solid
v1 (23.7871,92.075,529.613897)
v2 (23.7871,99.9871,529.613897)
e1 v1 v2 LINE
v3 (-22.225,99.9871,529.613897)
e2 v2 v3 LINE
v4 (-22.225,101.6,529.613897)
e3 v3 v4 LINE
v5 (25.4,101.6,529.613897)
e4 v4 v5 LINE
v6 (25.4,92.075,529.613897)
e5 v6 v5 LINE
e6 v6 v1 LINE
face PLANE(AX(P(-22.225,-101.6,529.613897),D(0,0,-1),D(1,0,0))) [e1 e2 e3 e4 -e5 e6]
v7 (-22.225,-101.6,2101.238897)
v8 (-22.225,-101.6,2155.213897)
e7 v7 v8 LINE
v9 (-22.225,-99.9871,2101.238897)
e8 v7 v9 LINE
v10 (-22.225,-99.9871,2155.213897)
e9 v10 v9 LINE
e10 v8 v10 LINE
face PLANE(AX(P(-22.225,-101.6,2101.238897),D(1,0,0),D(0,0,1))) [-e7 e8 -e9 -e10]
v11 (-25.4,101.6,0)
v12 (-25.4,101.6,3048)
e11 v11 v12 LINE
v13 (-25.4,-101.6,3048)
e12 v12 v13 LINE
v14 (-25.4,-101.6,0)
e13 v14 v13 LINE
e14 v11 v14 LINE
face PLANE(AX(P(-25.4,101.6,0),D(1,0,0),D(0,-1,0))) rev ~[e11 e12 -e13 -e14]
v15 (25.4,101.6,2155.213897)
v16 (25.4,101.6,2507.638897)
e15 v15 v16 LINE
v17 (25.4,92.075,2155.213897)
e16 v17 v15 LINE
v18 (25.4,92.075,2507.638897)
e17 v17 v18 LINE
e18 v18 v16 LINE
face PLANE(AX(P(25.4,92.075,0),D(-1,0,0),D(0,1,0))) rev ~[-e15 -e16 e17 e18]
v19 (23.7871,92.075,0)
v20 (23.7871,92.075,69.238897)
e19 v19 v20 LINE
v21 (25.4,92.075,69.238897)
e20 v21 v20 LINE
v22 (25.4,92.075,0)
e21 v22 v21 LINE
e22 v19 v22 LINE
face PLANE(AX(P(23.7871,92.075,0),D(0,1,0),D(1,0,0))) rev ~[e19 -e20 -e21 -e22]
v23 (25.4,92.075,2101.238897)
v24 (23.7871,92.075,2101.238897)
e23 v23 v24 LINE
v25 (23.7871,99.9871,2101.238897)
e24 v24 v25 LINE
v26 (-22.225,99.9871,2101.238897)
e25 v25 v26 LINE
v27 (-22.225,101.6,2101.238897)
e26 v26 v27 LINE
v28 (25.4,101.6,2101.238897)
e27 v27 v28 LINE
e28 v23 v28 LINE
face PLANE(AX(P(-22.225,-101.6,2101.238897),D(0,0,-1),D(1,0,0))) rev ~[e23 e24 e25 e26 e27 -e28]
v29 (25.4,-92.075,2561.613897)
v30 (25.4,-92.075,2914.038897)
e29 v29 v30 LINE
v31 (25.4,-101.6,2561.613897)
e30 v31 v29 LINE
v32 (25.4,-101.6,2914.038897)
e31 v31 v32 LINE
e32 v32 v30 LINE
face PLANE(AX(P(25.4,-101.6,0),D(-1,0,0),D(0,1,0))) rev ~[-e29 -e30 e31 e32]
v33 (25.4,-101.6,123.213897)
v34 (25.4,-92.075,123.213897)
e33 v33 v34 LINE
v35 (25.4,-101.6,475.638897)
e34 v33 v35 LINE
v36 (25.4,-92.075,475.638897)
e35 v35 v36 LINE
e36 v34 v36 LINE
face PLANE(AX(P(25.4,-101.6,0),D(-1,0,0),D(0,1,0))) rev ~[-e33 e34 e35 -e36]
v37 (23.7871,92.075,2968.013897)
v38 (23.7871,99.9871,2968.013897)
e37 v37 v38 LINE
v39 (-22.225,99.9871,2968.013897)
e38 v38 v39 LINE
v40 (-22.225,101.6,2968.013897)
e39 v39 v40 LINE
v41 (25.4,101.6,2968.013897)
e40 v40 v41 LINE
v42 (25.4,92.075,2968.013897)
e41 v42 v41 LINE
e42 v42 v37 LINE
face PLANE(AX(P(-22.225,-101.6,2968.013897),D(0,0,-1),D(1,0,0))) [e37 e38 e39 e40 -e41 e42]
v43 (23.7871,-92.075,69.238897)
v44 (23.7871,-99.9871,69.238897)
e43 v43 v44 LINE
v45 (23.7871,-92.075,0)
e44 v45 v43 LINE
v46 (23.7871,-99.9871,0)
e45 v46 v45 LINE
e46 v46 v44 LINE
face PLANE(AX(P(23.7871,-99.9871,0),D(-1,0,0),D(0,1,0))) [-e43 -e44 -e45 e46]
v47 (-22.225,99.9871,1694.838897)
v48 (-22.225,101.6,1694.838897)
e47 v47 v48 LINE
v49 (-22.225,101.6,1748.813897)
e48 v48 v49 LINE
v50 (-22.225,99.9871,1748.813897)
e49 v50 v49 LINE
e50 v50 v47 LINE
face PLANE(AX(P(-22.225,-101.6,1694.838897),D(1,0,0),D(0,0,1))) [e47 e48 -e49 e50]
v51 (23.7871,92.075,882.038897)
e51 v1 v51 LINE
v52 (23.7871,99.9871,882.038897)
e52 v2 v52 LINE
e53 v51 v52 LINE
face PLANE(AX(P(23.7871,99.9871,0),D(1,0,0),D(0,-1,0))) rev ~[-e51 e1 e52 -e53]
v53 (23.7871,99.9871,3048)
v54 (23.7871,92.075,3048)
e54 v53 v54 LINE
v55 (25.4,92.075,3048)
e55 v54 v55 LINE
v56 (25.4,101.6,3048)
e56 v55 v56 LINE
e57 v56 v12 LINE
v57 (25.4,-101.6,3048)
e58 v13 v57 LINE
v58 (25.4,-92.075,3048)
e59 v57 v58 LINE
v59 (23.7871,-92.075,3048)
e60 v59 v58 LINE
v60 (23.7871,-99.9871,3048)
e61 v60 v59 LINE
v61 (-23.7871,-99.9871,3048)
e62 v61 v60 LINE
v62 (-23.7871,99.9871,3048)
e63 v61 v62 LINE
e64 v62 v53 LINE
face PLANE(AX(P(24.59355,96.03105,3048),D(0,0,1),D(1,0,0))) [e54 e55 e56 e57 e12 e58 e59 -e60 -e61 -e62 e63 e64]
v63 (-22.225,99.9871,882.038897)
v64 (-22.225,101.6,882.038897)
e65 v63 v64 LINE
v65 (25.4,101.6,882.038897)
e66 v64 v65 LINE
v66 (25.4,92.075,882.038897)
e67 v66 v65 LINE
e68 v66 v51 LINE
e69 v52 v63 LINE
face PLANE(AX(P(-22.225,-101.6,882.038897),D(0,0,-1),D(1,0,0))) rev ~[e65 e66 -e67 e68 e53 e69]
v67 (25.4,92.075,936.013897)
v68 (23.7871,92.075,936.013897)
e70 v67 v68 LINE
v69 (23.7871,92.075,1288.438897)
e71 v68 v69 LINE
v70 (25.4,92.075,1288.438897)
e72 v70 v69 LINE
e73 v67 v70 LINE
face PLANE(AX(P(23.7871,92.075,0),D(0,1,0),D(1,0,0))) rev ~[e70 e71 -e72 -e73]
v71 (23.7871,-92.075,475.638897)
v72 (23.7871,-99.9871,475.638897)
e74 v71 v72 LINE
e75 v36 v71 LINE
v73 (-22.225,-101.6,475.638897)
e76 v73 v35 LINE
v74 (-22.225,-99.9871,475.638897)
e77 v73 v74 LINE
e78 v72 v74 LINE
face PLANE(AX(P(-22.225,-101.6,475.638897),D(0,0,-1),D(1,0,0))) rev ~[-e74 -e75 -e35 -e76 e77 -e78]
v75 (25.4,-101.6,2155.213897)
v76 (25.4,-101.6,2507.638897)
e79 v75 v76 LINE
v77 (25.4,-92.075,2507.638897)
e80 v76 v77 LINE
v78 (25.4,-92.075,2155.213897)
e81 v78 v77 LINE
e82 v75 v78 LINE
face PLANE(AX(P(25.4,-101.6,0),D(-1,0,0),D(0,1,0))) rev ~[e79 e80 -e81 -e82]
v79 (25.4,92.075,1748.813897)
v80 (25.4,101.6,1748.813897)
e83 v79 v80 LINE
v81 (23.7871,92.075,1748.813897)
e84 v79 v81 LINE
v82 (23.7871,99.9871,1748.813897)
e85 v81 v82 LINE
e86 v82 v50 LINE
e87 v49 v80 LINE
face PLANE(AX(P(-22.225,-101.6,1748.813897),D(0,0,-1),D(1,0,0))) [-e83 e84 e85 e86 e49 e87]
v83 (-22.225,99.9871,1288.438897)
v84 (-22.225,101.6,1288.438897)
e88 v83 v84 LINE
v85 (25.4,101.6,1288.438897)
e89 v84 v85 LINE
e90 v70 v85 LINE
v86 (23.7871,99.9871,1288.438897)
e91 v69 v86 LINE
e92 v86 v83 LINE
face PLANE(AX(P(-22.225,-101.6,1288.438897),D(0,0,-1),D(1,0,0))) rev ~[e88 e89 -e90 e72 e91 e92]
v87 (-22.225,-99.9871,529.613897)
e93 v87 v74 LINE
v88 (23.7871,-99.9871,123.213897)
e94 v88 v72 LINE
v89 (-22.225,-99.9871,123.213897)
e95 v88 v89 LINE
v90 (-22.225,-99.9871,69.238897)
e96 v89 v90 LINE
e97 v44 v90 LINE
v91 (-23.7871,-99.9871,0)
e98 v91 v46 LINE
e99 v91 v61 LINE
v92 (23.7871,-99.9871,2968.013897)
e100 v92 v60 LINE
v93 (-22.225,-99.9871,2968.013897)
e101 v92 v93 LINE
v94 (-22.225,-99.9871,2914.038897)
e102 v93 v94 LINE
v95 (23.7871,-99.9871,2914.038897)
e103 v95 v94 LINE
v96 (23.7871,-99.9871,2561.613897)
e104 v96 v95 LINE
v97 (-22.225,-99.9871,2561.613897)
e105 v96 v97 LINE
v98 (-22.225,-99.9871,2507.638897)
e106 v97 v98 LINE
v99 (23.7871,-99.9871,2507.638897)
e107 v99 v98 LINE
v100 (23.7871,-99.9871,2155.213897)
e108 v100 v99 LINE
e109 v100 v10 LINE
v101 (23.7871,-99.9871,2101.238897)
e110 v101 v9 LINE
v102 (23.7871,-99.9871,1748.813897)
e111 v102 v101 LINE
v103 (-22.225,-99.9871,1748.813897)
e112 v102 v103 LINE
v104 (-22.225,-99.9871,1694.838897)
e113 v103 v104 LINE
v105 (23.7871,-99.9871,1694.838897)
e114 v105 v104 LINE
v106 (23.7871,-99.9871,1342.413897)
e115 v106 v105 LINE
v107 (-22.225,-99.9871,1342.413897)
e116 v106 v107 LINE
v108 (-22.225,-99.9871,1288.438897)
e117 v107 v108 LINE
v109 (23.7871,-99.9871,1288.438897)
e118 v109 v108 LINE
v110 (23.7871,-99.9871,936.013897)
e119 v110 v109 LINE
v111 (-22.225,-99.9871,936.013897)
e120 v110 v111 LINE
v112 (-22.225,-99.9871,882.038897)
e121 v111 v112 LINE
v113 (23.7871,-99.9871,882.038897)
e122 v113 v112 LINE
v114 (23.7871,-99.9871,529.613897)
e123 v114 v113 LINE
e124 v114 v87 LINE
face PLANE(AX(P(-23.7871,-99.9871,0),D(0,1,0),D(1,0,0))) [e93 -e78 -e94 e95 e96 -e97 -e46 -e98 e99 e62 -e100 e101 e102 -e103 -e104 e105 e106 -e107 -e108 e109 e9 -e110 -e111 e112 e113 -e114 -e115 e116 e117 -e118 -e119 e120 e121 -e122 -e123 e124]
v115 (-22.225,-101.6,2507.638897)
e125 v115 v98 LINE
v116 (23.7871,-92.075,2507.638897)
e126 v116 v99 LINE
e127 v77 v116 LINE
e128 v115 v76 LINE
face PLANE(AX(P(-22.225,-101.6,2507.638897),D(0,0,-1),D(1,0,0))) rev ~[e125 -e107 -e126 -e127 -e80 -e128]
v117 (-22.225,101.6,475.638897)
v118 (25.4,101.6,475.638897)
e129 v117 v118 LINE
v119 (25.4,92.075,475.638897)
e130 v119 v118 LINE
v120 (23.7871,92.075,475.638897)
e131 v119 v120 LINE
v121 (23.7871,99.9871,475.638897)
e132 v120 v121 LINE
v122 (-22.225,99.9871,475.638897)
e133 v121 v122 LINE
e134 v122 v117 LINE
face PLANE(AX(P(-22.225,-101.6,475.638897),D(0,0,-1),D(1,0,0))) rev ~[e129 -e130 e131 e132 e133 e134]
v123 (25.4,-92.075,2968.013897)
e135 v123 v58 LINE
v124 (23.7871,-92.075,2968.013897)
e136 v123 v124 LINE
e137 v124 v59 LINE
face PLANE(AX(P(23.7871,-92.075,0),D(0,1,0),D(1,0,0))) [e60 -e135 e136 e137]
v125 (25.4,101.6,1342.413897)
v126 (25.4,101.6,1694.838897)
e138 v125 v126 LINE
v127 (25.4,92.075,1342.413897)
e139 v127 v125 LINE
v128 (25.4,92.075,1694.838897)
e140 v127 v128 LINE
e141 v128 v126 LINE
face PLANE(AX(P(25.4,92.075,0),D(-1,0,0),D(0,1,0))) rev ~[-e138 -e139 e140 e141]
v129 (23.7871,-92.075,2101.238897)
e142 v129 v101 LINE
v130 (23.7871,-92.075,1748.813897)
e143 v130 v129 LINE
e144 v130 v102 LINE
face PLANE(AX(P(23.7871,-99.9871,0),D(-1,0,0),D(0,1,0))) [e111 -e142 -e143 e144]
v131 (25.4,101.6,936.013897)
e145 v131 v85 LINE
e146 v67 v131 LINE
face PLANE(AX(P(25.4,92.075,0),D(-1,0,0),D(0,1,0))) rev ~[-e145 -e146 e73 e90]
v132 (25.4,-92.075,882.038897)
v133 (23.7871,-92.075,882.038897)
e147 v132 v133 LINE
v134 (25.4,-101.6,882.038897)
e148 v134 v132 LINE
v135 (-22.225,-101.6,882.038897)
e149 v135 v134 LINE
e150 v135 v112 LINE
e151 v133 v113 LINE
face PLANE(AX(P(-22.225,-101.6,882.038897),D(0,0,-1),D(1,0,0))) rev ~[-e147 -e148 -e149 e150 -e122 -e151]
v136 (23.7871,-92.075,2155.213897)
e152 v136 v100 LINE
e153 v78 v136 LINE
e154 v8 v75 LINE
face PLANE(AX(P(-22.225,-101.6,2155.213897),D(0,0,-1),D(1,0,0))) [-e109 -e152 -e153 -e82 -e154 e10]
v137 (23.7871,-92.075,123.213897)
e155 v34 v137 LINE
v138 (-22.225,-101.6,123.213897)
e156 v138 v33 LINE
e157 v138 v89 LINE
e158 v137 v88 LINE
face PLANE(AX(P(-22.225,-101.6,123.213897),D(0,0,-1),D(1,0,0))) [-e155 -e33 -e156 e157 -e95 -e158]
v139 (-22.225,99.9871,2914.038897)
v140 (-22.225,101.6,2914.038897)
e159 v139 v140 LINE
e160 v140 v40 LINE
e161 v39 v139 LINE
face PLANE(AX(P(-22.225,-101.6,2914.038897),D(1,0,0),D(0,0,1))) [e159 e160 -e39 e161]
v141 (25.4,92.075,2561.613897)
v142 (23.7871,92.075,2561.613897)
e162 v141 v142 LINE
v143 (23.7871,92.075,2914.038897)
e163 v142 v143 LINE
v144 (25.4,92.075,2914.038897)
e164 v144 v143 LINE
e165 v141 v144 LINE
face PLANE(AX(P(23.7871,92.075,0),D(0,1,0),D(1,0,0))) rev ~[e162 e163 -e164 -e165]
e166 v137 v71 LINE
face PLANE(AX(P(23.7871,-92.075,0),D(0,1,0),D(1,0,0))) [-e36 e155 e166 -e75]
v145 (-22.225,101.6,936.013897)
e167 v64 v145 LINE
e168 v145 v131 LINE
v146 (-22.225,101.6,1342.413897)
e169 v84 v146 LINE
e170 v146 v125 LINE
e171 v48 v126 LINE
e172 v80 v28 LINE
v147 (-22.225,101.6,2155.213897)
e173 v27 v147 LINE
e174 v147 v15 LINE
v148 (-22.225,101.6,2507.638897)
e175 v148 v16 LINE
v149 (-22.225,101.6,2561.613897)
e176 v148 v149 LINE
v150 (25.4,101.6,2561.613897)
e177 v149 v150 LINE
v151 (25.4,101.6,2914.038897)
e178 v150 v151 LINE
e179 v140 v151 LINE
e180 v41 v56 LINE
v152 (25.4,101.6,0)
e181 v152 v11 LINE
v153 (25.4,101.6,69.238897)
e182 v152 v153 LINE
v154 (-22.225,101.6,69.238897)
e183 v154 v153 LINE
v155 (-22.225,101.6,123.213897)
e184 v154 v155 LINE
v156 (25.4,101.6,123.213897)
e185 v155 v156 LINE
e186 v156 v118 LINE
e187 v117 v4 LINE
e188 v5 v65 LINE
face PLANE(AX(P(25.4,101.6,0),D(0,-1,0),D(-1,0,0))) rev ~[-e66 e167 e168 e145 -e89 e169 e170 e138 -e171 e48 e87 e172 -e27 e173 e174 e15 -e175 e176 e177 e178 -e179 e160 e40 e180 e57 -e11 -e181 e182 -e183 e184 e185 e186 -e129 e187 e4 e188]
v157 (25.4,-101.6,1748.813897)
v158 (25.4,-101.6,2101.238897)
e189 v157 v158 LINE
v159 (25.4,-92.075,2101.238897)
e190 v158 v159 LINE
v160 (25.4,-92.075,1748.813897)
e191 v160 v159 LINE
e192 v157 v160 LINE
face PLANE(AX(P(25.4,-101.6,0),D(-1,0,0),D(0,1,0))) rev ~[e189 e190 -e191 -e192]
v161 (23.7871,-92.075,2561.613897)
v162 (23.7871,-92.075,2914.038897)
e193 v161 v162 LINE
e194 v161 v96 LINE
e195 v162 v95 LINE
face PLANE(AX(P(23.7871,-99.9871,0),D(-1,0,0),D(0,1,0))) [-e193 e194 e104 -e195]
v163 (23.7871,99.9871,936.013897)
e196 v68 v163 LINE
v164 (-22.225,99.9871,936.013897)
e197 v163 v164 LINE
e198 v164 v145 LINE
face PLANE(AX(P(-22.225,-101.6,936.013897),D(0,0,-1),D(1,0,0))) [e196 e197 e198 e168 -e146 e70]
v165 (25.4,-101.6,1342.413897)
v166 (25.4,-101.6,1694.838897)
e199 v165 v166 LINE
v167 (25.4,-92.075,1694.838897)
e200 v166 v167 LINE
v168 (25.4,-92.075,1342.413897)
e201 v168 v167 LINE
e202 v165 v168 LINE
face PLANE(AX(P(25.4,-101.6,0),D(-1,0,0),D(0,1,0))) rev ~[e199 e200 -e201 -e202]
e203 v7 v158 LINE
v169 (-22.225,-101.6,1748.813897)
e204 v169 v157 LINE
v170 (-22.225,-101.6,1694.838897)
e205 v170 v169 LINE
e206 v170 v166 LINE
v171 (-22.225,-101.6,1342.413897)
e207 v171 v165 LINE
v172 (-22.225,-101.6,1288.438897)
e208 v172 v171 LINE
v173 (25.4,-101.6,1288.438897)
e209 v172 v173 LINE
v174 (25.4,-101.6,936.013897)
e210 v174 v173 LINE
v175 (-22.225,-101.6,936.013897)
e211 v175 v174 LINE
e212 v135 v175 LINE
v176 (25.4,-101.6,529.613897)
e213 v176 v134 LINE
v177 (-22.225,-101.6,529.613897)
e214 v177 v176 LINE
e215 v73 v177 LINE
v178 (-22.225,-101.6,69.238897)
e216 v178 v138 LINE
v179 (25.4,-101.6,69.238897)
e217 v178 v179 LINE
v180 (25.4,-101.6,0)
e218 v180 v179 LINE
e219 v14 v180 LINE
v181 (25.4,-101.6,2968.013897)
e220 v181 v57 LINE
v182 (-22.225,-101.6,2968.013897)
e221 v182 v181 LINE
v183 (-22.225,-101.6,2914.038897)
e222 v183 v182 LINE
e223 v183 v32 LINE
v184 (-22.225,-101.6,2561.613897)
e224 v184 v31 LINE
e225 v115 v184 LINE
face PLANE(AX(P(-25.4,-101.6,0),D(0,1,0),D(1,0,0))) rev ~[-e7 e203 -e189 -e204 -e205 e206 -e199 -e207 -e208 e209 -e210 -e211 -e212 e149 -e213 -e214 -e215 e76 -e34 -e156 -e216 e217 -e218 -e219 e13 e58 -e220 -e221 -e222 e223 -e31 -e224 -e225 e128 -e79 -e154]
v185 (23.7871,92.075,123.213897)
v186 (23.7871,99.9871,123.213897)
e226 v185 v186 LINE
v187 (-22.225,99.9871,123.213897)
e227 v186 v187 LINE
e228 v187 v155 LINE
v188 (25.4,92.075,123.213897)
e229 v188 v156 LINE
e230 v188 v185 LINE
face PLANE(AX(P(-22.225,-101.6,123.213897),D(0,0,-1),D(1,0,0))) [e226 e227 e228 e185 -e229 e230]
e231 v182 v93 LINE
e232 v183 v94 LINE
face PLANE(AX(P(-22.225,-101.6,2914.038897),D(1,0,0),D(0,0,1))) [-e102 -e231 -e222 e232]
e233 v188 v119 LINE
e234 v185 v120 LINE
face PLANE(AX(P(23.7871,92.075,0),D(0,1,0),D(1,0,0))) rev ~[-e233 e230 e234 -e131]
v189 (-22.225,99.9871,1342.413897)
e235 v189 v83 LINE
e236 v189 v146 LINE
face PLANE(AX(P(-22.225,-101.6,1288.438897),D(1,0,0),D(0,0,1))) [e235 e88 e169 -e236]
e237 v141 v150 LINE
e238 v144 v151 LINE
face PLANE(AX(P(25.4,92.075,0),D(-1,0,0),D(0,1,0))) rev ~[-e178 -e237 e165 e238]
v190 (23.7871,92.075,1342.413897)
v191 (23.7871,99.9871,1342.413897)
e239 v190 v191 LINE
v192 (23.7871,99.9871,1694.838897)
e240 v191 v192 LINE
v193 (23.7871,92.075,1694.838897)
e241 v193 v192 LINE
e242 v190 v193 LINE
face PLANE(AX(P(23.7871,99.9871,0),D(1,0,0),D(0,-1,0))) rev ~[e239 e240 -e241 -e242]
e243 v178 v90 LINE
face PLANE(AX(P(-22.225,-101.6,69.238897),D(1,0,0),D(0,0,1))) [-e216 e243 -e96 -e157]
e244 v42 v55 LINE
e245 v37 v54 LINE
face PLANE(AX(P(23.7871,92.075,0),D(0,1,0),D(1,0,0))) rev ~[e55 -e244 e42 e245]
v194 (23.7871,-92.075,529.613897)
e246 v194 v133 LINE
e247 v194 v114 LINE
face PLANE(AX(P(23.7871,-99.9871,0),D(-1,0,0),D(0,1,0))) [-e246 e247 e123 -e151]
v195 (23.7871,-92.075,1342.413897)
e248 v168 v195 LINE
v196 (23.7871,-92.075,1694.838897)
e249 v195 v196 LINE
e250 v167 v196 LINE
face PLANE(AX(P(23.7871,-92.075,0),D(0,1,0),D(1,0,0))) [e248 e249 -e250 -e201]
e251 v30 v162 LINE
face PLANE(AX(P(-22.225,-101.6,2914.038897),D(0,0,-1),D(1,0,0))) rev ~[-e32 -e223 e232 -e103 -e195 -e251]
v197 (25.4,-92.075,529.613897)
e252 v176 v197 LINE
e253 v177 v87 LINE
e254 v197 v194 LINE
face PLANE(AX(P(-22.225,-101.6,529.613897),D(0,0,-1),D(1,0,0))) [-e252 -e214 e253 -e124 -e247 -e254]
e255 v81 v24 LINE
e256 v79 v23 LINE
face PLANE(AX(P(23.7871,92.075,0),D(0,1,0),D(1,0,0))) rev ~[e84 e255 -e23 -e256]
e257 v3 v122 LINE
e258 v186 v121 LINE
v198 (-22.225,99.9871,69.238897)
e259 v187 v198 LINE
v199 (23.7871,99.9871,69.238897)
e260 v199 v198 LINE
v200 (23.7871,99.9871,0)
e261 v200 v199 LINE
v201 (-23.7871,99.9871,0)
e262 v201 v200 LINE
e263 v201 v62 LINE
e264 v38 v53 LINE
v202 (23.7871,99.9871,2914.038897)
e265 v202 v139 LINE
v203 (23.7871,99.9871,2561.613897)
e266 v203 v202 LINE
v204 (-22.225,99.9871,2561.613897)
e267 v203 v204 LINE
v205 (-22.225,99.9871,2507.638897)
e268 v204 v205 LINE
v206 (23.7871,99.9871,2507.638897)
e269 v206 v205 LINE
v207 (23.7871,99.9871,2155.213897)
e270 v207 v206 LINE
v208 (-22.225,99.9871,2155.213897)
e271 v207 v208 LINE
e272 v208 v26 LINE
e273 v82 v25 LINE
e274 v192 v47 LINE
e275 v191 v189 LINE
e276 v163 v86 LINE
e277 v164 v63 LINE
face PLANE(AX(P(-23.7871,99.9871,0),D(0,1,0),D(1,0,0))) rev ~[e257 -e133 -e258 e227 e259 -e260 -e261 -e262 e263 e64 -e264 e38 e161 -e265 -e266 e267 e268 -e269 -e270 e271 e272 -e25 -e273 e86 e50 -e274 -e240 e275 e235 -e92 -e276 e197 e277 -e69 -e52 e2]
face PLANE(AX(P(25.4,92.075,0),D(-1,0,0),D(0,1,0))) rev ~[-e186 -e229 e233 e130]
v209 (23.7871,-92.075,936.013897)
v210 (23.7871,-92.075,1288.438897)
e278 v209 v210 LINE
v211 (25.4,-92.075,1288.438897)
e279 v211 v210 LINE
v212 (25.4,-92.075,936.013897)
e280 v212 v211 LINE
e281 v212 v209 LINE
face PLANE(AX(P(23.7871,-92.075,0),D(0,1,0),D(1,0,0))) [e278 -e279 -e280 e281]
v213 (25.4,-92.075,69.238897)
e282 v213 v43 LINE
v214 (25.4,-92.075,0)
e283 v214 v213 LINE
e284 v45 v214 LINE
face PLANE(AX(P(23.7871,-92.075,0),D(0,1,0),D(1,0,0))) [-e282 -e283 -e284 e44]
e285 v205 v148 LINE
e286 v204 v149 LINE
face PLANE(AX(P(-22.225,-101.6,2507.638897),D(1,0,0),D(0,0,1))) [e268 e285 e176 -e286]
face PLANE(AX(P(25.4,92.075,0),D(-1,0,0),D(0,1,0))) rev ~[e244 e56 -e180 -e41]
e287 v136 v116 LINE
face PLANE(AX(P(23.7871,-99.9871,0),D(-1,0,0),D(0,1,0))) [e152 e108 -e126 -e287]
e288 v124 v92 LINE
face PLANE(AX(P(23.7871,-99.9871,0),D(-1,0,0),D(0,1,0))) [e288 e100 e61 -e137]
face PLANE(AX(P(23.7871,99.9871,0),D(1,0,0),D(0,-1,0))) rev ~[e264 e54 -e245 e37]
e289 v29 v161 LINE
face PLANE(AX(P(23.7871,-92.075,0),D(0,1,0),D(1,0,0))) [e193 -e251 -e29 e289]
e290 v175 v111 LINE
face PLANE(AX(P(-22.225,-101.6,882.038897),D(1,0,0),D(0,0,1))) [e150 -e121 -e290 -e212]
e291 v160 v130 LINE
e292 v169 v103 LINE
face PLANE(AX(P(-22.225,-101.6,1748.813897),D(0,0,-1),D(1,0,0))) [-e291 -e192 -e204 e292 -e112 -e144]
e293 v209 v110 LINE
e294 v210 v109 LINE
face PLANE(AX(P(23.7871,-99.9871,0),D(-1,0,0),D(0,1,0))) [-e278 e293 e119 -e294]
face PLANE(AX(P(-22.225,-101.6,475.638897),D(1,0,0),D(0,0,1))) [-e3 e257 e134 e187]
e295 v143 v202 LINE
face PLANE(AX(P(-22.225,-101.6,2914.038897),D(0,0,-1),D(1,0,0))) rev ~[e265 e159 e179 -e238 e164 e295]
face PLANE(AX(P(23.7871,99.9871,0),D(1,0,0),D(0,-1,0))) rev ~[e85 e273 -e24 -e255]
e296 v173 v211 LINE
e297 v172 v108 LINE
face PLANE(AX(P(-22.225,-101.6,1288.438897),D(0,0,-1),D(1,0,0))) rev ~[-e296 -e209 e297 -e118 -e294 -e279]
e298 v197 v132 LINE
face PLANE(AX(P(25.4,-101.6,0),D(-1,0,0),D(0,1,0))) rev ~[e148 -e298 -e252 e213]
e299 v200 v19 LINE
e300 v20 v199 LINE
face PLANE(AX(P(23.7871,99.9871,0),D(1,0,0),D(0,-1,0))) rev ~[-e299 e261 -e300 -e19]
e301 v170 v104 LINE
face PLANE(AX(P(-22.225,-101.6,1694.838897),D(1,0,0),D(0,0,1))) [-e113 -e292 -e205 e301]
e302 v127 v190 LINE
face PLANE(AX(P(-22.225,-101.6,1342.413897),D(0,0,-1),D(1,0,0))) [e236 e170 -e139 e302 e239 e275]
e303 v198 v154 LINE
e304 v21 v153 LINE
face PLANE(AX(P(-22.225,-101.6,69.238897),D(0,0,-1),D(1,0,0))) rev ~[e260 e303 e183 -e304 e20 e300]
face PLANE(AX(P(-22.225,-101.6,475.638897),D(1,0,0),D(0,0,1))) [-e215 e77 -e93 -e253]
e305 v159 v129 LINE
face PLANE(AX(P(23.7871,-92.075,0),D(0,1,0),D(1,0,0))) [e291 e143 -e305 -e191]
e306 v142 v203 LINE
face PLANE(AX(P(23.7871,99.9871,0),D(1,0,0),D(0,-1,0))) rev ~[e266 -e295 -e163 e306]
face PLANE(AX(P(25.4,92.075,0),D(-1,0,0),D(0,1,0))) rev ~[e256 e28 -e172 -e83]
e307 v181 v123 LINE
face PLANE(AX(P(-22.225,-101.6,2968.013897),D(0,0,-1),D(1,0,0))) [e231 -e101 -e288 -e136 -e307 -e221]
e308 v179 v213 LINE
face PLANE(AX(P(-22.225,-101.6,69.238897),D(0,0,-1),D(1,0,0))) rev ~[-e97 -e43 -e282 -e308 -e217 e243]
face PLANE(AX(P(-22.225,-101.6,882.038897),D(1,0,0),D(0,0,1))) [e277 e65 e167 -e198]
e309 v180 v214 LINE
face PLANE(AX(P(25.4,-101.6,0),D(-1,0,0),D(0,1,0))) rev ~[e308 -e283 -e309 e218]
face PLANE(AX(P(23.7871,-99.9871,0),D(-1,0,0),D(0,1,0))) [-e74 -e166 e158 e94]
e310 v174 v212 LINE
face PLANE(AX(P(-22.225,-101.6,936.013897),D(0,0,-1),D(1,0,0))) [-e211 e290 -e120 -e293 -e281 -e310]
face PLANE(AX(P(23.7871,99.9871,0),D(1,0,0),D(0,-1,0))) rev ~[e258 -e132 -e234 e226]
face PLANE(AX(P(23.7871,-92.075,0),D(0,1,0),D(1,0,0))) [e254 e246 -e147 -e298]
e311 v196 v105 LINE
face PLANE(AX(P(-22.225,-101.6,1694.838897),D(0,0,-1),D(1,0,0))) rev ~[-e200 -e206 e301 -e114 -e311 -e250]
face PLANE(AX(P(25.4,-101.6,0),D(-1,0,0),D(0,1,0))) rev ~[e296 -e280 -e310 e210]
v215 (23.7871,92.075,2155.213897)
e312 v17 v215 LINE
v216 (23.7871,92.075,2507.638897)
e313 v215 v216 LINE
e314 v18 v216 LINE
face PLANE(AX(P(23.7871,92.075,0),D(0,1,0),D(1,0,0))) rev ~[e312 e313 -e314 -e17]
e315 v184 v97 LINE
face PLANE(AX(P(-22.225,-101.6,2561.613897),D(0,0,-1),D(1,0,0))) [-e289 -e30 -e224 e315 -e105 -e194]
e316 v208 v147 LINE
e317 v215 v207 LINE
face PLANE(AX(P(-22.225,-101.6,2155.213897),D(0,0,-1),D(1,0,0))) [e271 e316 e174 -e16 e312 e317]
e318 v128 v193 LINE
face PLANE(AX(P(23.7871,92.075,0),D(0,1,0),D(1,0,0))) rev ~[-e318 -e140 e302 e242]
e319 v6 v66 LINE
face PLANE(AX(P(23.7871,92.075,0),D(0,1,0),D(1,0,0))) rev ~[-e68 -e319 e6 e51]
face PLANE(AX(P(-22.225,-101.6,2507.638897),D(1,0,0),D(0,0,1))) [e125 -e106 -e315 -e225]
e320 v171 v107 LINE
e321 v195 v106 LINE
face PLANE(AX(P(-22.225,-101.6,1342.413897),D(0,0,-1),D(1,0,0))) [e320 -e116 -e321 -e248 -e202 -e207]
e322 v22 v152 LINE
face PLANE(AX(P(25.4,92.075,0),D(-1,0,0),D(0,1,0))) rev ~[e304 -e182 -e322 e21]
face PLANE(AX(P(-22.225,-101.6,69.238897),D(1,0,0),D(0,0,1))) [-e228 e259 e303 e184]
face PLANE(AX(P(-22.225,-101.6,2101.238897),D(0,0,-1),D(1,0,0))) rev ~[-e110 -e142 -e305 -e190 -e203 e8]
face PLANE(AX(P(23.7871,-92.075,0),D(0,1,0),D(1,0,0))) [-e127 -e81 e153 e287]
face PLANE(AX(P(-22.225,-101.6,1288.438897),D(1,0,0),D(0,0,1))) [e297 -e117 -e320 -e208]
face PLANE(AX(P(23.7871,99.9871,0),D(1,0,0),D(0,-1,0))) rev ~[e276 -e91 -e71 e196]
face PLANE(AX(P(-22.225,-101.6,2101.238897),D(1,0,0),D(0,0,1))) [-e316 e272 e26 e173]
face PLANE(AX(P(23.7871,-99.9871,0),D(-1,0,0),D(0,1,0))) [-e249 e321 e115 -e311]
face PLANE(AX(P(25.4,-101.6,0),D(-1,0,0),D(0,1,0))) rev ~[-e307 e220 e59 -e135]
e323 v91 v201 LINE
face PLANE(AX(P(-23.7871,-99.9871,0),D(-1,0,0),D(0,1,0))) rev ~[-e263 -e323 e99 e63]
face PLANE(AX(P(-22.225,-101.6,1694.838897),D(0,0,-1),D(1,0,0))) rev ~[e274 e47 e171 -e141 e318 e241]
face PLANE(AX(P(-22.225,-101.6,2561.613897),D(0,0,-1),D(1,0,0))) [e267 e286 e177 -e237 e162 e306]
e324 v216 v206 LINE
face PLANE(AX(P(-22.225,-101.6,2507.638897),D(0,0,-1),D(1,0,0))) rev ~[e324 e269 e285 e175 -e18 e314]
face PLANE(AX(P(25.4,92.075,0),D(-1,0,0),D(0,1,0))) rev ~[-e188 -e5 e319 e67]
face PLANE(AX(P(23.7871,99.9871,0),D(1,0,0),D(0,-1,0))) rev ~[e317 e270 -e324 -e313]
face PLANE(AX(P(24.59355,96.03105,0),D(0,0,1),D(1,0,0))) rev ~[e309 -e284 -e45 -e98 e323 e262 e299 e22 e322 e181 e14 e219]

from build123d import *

# Parameters (mm, degrees)
F0_W     = 1.6129
F0_H     = 7.9121
F0_H_2   = 1.6129
F0_W_2   = 47.5742
F0_H_3   = 199.9742
F1_DEPTH = 3048
F2_W     = 47.625
F2_H     = 53.975
F3_DEPTH = 203.201


with BuildPart() as f1:
    # F0 (on Top) → F1 (new body)
    with BuildSketch(Plane.XY):
        with Locations((24.59355, 96.03105)):
            Rectangle(F0_W, F0_H)
        with Locations((24.59355, 100.79355)):
            Rectangle(F0_W, F0_H_2)
        with Locations((0, 100.79355)):
            Rectangle(F0_W_2, F0_H_2)
        with Locations((-24.59355, 0)):
            Rectangle(F0_W, F0_H_3)
        with Locations((-24.59355, 100.79355)):
            Rectangle(F0_W, F0_H_2)
        with Locations((0, -100.79355)):
            Rectangle(F0_W_2, F0_H_2)
        with Locations((-24.59355, -100.79355)):
            Rectangle(F0_W, F0_H_2)
        with Locations((24.59355, -96.03105)):
            Rectangle(F0_W, F0_H)
        with Locations((24.59355, -100.79355)):
            Rectangle(F0_W, F0_H_2)
    extrude(amount=F1_DEPTH)

    # F2 (on face) → F3 (cut, through all)
    with BuildSketch(Plane.XZ.offset(101.6)):
        with Locations((1.5875, 2941.026397)):
            Rectangle(F2_W, F2_H)
        with Locations((1.5875, 2534.626397)):
            Rectangle(F2_W, F2_H)
        with Locations((1.5875, 2128.226397)):
            Rectangle(F2_W, F2_H)
        with Locations((1.5875, 1721.826397)):
            Rectangle(F2_W, F2_H)
        with Locations((1.5875, 1315.426397)):
            Rectangle(F2_W, F2_H)
        with Locations((1.5875, 909.026397)):
            Rectangle(F2_W, F2_H)
        with Locations((1.5875, 502.626397)):
            Rectangle(F2_W, F2_H)
        with Locations((1.5875, 96.226397)):
            Rectangle(F2_W, F2_H)
    extrude(amount=-F3_DEPTH, mode=Mode.SUBTRACT)


solid = f1.part
